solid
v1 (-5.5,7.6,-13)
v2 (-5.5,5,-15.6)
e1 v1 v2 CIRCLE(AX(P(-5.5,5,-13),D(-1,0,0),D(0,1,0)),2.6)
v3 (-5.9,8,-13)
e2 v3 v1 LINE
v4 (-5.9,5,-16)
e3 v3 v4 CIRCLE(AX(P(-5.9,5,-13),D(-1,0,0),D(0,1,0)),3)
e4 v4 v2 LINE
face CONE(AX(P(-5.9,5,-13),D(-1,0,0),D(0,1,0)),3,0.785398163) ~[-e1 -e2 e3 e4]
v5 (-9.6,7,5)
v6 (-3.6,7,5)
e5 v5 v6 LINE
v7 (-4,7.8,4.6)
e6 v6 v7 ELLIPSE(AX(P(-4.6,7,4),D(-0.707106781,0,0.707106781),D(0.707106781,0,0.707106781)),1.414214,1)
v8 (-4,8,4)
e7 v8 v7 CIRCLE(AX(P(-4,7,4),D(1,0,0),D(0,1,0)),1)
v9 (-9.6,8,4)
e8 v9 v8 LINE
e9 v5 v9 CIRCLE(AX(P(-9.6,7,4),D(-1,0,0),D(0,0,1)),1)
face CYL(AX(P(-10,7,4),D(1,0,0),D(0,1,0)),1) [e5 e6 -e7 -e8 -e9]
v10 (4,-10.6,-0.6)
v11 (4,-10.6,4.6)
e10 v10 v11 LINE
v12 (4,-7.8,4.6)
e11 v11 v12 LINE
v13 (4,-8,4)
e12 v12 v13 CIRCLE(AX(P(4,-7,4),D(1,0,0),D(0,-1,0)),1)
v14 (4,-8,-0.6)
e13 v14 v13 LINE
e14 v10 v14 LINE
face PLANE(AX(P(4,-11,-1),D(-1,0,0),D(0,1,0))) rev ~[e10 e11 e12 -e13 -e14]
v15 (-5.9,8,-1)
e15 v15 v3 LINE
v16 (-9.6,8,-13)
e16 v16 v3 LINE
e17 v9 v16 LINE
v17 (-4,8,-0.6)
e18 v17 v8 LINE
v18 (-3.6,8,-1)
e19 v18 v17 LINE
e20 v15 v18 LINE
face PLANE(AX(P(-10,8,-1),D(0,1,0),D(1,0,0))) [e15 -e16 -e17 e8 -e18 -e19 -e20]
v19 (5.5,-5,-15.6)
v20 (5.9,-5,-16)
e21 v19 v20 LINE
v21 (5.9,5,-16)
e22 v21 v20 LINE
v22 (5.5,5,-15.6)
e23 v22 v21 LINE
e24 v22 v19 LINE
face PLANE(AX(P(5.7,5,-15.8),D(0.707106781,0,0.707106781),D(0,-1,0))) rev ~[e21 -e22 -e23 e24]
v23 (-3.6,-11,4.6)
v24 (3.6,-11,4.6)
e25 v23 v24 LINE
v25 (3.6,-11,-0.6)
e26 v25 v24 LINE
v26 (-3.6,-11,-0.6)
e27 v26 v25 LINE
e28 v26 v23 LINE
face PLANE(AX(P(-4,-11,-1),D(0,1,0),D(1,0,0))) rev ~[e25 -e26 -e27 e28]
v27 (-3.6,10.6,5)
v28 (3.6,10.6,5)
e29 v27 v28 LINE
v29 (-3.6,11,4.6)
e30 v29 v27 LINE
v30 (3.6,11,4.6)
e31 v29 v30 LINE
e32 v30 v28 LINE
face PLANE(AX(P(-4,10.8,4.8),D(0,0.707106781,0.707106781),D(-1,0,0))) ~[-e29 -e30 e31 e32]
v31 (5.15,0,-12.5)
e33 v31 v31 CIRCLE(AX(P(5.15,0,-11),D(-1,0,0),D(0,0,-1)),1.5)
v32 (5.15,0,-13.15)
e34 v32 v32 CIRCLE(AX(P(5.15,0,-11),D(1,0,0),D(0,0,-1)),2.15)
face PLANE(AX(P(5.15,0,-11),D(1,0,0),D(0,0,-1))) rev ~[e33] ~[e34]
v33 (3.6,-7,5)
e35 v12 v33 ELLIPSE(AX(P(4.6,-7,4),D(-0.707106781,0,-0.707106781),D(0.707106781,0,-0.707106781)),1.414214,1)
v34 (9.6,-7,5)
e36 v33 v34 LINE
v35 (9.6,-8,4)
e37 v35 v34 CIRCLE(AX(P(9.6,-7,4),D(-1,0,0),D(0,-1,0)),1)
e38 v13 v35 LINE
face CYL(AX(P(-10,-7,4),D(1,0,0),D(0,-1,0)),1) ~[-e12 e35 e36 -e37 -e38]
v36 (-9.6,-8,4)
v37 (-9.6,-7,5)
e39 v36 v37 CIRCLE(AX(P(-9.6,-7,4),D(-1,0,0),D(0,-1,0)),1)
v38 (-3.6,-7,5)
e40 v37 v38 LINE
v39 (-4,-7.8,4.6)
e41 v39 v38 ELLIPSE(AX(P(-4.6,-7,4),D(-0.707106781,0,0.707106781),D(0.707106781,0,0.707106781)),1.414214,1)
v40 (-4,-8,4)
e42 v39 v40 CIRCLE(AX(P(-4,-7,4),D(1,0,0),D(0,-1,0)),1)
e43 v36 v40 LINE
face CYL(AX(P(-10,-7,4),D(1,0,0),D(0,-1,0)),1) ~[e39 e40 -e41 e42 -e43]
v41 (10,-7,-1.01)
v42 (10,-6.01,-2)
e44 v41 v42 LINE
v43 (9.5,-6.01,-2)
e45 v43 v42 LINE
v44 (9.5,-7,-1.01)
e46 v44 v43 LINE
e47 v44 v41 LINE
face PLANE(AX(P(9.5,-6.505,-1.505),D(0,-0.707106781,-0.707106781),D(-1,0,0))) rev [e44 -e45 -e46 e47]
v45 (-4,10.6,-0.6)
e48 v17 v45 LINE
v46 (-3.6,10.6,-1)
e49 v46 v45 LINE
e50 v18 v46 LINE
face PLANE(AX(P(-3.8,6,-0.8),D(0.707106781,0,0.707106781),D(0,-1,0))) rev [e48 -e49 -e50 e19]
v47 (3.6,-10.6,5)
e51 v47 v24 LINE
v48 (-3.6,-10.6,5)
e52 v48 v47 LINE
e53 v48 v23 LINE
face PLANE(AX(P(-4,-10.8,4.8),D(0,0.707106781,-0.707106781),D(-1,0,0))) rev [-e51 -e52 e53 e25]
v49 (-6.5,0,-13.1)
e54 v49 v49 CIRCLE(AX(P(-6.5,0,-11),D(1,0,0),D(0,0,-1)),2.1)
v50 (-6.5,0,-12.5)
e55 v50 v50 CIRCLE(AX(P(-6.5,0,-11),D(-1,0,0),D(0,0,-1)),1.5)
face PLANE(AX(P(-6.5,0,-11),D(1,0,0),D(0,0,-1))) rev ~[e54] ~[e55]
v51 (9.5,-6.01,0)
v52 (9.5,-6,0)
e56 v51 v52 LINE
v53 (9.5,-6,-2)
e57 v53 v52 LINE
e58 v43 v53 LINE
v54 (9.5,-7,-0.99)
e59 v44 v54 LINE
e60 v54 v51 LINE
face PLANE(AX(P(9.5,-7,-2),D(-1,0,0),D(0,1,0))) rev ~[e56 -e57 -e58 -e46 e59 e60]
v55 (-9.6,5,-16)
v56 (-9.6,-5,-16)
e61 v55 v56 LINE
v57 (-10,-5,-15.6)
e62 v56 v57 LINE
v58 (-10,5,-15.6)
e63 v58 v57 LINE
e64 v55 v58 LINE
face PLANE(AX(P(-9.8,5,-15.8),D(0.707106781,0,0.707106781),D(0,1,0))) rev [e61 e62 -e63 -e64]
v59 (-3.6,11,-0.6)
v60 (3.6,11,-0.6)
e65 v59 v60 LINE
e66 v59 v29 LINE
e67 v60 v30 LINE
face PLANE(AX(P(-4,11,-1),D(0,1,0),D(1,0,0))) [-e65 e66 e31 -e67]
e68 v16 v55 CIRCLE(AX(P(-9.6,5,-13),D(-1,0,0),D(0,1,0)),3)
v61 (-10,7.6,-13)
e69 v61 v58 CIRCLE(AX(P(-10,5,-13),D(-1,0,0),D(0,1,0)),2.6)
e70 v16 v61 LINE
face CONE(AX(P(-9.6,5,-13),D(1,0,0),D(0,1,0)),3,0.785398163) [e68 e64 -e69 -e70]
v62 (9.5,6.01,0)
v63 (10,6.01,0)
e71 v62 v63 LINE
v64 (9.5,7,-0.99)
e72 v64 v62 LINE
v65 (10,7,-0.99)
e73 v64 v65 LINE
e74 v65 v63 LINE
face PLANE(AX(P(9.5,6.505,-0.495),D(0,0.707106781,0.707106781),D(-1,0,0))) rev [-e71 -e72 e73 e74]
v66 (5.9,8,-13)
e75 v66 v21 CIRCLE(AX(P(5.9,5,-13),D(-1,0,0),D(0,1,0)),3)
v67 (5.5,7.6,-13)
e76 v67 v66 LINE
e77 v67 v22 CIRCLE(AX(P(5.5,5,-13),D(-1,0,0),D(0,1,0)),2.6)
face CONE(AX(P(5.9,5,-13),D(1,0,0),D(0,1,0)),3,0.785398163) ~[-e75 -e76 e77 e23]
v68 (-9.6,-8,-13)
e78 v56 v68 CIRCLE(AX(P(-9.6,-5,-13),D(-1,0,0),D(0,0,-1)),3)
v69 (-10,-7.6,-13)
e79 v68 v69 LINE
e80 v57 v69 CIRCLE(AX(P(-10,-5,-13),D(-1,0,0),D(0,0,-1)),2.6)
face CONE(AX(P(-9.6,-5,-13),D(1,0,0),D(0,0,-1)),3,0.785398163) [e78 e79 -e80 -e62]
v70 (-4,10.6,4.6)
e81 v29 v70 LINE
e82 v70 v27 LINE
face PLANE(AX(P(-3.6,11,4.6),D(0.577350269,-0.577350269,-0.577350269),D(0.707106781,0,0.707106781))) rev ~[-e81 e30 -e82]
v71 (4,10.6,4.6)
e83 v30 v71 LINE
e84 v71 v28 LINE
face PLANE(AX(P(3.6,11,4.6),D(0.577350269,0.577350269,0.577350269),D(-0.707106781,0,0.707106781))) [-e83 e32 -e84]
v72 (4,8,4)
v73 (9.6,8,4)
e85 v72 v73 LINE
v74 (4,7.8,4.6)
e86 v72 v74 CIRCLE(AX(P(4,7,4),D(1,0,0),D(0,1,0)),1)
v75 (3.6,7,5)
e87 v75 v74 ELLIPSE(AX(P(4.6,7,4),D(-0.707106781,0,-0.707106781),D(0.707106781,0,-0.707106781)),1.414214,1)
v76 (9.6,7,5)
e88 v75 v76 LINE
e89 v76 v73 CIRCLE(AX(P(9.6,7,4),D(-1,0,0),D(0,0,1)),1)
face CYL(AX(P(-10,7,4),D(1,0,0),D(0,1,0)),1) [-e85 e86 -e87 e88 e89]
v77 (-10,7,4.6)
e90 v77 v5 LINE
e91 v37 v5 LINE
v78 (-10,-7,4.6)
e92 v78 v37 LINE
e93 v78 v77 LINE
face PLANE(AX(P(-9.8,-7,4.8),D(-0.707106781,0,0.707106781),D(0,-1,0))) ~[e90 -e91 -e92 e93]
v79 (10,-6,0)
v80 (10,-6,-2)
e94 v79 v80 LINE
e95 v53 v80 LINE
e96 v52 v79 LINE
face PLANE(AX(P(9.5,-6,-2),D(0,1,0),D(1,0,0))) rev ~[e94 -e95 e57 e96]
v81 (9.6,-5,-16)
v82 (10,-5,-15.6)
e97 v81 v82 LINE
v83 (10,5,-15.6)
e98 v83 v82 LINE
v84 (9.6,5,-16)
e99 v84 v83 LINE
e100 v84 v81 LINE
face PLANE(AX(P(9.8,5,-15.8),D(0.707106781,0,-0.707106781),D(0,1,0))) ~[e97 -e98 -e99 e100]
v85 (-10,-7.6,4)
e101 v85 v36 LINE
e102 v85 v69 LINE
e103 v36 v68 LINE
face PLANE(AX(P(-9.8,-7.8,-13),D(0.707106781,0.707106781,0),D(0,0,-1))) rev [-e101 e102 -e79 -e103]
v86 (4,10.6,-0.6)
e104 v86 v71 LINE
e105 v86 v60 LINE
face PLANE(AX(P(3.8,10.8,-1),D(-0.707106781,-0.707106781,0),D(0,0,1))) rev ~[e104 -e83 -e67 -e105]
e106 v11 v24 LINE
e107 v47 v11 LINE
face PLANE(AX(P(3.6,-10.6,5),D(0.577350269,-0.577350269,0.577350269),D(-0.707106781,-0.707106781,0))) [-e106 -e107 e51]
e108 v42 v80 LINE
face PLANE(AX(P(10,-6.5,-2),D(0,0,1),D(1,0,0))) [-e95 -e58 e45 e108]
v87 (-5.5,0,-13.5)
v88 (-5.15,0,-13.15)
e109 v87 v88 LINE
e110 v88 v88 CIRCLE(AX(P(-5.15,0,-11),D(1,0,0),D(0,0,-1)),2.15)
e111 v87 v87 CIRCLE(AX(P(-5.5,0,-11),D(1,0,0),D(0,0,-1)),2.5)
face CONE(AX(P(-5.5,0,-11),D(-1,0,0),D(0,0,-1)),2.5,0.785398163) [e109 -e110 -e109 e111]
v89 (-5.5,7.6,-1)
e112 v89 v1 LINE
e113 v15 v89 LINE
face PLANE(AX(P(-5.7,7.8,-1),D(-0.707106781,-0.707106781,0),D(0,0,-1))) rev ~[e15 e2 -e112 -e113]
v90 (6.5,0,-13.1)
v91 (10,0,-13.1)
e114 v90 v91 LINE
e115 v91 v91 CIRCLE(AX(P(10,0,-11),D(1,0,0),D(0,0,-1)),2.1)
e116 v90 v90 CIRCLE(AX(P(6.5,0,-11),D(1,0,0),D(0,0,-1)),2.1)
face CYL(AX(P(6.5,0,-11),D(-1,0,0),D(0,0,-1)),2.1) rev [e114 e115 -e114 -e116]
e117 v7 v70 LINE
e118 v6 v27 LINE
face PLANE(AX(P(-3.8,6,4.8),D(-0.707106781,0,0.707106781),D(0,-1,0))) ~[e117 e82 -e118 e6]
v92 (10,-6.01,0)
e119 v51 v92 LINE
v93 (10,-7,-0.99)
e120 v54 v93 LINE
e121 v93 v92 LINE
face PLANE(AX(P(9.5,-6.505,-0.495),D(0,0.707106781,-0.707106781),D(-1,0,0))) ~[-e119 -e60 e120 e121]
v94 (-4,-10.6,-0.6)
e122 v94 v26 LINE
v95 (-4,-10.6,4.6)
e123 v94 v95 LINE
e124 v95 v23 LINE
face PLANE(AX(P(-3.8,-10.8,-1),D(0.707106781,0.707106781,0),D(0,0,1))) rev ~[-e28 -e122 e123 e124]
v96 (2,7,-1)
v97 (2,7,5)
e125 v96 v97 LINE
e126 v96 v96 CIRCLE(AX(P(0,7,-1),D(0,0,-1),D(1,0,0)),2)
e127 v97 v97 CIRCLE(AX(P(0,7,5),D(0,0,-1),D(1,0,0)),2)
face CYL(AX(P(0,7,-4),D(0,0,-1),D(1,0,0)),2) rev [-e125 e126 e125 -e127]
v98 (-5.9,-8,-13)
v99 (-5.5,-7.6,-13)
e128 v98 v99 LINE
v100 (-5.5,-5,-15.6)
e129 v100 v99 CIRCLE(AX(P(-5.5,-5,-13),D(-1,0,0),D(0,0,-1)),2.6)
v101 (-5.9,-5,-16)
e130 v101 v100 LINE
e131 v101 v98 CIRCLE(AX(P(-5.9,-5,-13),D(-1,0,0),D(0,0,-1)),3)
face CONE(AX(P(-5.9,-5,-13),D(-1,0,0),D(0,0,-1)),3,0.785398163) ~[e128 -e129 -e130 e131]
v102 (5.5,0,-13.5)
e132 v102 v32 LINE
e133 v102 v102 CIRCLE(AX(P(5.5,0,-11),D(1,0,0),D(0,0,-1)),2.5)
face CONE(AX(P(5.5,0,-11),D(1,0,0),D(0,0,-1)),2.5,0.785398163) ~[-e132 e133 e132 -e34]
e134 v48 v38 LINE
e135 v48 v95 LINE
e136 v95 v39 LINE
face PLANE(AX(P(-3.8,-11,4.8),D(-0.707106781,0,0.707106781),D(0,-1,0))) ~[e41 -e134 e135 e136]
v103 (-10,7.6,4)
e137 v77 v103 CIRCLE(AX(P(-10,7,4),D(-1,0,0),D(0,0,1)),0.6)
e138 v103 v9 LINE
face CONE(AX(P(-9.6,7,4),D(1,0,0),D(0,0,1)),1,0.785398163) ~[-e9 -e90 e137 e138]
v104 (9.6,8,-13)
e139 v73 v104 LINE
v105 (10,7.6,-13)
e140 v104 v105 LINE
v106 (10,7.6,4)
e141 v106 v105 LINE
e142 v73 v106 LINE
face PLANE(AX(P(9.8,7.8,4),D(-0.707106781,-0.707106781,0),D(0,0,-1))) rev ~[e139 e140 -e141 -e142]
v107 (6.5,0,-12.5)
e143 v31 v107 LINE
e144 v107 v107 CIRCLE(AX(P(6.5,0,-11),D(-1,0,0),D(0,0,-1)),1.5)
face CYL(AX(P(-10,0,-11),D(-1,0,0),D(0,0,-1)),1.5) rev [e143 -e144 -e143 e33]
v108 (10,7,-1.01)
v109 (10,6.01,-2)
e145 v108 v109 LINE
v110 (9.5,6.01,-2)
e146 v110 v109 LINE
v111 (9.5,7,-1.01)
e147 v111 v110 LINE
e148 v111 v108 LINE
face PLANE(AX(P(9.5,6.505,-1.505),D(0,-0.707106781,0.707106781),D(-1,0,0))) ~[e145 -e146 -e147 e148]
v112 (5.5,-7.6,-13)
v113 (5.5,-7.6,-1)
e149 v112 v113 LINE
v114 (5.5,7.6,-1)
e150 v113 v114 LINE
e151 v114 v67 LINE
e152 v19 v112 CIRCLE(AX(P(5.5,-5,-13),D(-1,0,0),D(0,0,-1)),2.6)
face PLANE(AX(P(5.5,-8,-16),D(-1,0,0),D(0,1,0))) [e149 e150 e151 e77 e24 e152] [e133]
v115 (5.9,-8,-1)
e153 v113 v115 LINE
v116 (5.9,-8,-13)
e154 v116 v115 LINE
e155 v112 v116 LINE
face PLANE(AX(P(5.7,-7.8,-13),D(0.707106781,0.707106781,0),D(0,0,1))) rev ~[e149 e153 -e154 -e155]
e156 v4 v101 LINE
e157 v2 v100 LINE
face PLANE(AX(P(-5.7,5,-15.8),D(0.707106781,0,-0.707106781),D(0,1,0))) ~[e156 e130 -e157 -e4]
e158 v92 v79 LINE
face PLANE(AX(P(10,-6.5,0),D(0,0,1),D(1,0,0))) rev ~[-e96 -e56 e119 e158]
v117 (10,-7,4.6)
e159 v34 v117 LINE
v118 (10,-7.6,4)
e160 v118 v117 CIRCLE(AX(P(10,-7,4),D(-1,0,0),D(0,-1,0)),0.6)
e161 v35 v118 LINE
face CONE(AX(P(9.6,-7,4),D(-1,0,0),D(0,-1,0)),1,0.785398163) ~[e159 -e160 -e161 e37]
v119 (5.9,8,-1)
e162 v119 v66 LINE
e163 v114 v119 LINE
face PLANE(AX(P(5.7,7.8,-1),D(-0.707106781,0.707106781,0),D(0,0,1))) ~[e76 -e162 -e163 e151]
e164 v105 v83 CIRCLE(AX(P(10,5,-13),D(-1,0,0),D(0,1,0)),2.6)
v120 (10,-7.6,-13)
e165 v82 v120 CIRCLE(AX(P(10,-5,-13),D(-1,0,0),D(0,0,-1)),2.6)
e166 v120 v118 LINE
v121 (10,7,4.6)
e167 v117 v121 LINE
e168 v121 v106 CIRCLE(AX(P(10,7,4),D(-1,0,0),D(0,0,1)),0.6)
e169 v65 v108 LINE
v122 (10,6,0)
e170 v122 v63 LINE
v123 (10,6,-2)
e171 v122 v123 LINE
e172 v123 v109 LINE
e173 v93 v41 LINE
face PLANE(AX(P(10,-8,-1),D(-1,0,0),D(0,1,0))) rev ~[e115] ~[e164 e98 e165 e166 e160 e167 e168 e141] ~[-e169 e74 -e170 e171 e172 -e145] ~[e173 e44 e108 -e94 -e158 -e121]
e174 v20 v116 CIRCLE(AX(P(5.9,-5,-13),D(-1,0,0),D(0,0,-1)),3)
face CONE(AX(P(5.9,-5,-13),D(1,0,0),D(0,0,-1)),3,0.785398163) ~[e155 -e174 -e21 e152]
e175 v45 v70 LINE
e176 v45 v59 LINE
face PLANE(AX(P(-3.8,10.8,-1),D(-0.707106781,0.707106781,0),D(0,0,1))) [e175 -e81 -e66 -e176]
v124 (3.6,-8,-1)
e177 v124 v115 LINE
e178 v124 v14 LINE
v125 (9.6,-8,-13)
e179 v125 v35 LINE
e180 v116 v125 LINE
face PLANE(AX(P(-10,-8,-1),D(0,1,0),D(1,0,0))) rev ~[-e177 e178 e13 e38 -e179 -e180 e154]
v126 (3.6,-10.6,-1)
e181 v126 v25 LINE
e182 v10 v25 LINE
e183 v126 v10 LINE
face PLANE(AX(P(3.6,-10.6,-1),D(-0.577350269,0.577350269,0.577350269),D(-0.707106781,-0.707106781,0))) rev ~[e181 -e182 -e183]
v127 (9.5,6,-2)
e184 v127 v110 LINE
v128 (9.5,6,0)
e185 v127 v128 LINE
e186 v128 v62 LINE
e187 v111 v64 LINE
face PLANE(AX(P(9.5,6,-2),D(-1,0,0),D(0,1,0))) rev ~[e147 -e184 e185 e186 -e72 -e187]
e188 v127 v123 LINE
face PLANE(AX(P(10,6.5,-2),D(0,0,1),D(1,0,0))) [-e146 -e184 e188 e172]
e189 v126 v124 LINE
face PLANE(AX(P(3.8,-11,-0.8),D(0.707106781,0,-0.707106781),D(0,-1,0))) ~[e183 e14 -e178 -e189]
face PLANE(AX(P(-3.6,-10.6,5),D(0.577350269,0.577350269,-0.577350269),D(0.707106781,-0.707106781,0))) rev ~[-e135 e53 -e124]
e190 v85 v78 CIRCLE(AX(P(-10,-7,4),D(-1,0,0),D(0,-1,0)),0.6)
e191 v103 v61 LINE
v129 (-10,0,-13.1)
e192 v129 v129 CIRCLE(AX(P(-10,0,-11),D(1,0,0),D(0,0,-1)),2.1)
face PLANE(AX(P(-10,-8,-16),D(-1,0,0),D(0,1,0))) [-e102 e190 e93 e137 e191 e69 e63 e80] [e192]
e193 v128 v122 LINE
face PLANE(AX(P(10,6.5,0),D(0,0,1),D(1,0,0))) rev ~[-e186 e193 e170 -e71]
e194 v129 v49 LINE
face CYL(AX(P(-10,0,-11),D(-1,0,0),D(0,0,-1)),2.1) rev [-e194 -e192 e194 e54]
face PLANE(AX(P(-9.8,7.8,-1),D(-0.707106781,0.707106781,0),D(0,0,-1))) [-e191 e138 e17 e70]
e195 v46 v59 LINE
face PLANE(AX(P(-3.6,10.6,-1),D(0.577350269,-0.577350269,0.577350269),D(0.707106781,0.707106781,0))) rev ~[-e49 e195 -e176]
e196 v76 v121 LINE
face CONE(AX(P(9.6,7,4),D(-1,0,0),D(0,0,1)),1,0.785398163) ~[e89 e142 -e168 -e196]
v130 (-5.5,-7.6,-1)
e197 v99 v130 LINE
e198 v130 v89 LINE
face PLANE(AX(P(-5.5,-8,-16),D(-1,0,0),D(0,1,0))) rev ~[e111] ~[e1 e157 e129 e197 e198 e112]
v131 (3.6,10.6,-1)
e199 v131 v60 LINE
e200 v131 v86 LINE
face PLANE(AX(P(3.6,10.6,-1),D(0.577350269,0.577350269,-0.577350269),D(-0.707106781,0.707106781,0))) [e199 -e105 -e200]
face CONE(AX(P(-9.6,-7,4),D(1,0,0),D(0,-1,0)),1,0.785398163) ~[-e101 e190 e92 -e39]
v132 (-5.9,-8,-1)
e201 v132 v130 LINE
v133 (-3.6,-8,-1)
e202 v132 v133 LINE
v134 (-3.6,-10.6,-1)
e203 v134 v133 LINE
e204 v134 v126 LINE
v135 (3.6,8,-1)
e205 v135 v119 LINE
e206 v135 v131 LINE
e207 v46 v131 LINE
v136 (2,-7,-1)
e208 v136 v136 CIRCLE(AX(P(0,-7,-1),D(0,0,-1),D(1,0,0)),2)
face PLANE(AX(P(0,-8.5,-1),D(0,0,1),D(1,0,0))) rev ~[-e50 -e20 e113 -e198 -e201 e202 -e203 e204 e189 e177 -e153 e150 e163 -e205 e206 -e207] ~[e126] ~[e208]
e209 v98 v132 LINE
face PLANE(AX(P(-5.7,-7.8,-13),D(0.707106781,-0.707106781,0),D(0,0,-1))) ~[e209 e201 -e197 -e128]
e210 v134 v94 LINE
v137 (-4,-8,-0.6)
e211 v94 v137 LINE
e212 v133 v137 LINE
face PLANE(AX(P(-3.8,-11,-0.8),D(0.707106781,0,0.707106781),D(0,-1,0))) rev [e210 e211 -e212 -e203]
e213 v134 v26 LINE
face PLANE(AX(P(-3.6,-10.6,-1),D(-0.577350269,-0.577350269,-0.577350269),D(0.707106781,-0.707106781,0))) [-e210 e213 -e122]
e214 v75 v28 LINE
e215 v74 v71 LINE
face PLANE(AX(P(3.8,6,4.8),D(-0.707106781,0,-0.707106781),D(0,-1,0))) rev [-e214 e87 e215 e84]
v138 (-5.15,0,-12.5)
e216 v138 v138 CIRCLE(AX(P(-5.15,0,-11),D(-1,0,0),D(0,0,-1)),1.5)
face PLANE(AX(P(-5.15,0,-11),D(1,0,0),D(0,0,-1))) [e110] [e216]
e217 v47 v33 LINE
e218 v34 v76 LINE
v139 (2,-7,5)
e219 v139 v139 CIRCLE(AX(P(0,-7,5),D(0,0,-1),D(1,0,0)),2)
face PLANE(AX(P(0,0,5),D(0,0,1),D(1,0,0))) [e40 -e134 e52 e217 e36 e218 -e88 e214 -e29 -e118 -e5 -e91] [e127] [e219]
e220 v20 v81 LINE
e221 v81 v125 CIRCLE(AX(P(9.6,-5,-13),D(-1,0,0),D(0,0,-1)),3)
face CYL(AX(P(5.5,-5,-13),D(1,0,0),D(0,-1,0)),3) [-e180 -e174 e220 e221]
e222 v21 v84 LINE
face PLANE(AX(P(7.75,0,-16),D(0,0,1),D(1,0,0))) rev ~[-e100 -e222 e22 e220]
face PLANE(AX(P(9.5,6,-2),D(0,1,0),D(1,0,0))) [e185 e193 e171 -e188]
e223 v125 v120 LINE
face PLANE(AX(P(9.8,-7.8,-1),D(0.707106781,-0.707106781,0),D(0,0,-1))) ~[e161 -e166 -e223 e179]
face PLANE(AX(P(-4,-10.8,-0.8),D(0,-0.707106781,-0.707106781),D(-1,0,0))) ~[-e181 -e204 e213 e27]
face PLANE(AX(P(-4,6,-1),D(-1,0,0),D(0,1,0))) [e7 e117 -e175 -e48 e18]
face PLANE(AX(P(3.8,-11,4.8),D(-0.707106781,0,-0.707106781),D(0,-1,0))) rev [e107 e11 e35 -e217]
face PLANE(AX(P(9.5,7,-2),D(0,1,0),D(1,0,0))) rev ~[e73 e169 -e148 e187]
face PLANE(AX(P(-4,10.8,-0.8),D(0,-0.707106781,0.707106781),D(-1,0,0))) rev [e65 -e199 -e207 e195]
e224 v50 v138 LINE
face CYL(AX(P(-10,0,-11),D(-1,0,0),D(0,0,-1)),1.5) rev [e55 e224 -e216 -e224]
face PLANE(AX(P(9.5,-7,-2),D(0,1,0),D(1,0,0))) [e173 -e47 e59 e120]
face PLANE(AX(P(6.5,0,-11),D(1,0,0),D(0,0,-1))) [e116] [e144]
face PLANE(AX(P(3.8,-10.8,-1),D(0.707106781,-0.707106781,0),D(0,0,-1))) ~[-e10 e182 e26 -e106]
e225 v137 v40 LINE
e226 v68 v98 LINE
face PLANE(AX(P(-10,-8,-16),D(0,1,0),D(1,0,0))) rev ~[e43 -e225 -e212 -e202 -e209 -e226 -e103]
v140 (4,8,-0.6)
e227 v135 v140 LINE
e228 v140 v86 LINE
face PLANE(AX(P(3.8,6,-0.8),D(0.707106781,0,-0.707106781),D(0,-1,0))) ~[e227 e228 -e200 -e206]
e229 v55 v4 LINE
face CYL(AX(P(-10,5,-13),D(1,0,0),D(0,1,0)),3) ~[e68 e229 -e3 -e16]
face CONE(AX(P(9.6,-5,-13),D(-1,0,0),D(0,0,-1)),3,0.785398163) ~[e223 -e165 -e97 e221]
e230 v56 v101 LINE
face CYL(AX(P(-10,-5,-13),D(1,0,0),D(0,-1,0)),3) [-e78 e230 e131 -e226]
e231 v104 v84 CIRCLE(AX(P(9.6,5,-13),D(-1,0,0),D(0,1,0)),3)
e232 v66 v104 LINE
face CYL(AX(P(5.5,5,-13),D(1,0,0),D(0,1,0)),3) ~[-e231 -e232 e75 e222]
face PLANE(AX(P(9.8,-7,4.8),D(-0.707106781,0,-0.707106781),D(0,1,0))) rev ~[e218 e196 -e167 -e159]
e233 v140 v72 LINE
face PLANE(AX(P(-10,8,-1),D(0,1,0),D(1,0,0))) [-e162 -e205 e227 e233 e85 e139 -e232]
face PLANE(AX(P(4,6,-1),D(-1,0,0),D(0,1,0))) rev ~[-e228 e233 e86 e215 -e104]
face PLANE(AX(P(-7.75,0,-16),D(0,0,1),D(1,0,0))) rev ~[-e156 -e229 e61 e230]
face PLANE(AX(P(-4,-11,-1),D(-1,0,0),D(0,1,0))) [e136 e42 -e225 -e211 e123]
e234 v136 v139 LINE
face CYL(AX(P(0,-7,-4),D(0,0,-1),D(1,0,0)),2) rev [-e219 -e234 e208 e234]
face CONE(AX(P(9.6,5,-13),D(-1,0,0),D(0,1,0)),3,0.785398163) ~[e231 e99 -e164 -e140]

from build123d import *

# Parameters (mm, degrees)
BOX012001004_W     = 1
BOX012001004_H     = 1
BOX012001004_DEPTH = 2
CHAMFER025_SIZE    = 0.99
BOX012001003_W     = 1
BOX012001003_H     = 1
BOX012001003_DEPTH = 2
CHAMFER024_SIZE    = 0.99
CYLINDER014_R      = 2.1
CYLINDER014_DEPTH  = 3.5
CYLINDER015_R      = 2.1
CYLINDER015_DEPTH  = 3.5
CYLINDER004_R      = 1.5
CYLINDER004_DEPTH  = 20
CYLINDER019_R      = 2
CYLINDER019_DEPTH  = 20
CYLINDER018_R      = 2
CYLINDER018_DEPTH  = 20
BOX008_W           = 8
BOX008_H           = 5
BOX008_DEPTH       = 6
CHAMFER015_SIZE    = 0.4
BOX007_W           = 8
BOX007_H           = 5
BOX007_DEPTH       = 6
CHAMFER016_SIZE    = 0.4
BOX002_W           = 20
BOX002_H           = 16
BOX002_DEPTH       = 6
FILLET002_R        = 1
CHAMFER019_SIZE    = 0.4
BOX001_W           = 4.5
BOX001_H           = 16
BOX001_DEPTH       = 15
FILLET001_R        = 3
CHAMFER011_SIZE    = 0.4
CHAMFER018_SIZE    = 0.4
BOX_W              = 4.5
BOX_H              = 16
BOX_DEPTH          = 15
FILLET_R           = 3
CHAMFER010_SIZE    = 0.4
CHAMFER017_SIZE    = 0.4
CYLINDER005_R      = 2.5
CYLINDER005_DEPTH  = 1
CHAMFER001_SIZE    = 0.35
CYLINDER006_R      = 2.5
CYLINDER006_DEPTH  = 1
CHAMFER_SIZE       = 0.35


with BuildPart() as chamfer025:
    # Box012001004 → Box012001004 (new body)
    with BuildSketch(Plane(origin=(9.5, 6, -2), x_dir=(1, 0, 0), z_dir=(0, 0, 1))):
        with Locations((0.5, 0.5)):
            Rectangle(BOX012001004_W, BOX012001004_H)
    extrude(amount=BOX012001004_DEPTH)

    # Chamfer025
    chamfer025_edges = [chamfer025.edges().sort_by_distance(p)[0] for p in [
        (10, 7, -2),
        (10, 7, 0),
    ]]
    chamfer(chamfer025_edges, length=CHAMFER025_SIZE)


with BuildPart() as fusion020006007018006:
    # Box012001003 → Box012001003 (new body)
    with BuildSketch(Plane(origin=(9.5, -7, -2), x_dir=(1, 0, 0), z_dir=(0, 0, 1))):
        with Locations((0.5, 0.5)):
            Rectangle(BOX012001003_W, BOX012001003_H)
    extrude(amount=BOX012001003_DEPTH)

    # Chamfer024
    chamfer024_edges = [fusion020006007018006.edges().sort_by_distance(p)[0] for p in [
        (10, -7, -2),
        (10, -7, 0),
    ]]
    chamfer(chamfer024_edges, length=CHAMFER024_SIZE)

    # Fusion020006007018006: union Chamfer025
    add(chamfer025.part)


with BuildPart() as cylinder014:
    # Cylinder014 → Cylinder014 (new body)
    with BuildSketch(Plane(origin=(-10, 0, 5), x_dir=(0, 0, -1), z_dir=(1, 0, 0))):
        Circle(CYLINDER014_R)
    extrude(amount=CYLINDER014_DEPTH)


with BuildPart() as fusion020006007006:
    # Cylinder015 → Cylinder015 (new body)
    with BuildSketch(Plane(origin=(6.5, 0, 5), x_dir=(0, 0, -1), z_dir=(1, 0, 0))):
        Circle(CYLINDER015_R)
    extrude(amount=CYLINDER015_DEPTH)

    # Fusion020006007006: union Cylinder014
    add(cylinder014.part)


with BuildPart() as cylinder004:
    # Cylinder004 → Cylinder004 (new body)
    with BuildSketch(Plane(origin=(-10, 0, 5), x_dir=(0, 0, -1), z_dir=(1, 0, 0))):
        Circle(CYLINDER004_R)
    extrude(amount=CYLINDER004_DEPTH)


with BuildPart() as cylinder019:
    # Cylinder019 → Cylinder019 (new body)
    with BuildSketch(Plane(origin=(0, 7, 12), x_dir=(1, 0, 0), z_dir=(0, 0, 1))):
        Circle(CYLINDER019_R)
    extrude(amount=CYLINDER019_DEPTH)


with BuildPart() as fusion020006007013:
    # Cylinder018 → Cylinder018 (new body)
    with BuildSketch(Plane(origin=(0, -7, 12), x_dir=(1, 0, 0), z_dir=(0, 0, 1))):
        Circle(CYLINDER018_R)
    extrude(amount=CYLINDER018_DEPTH)

    # Fusion020006007013: union Cylinder019
    add(cylinder019.part)


with BuildPart() as chamfer015:
    # Box008 → Box008 (new body)
    with BuildSketch(Plane(origin=(-4, -10, 15), x_dir=(1, 0, 0), z_dir=(0, 0, 1))):
        with Locations((4, 2.5)):
            Rectangle(BOX008_W, BOX008_H)
    extrude(amount=BOX008_DEPTH)

    # Chamfer015
    chamfer015_edges = [chamfer015.edges().sort_by_distance(p)[0] for p in [
        (-4, -10, 18),
        (-4, -7.5, 21),
        (-4, -5, 18),
        (-4, -7.5, 15),
        (4, -10, 18),
        (4, -7.5, 21),
        (4, -5, 18),
        (4, -7.5, 15),
        (0, -10, 15),
        (0, -10, 21),
        (0, -5, 15),
        (0, -5, 21),
    ]]
    chamfer(chamfer015_edges, length=CHAMFER015_SIZE)


with BuildPart() as chamfer015_1:
    # Chamfer015 placement: moved
    add(chamfer015.part.moved(Location((0, -1, 0))))


with BuildPart() as chamfer016:
    # Box007 → Box007 (new body)
    with BuildSketch(Plane(origin=(-4, 5, 15), x_dir=(1, 0, 0), z_dir=(0, 0, 1))):
        with Locations((4, 2.5)):
            Rectangle(BOX007_W, BOX007_H)
    extrude(amount=BOX007_DEPTH)

    # Chamfer016
    chamfer016_edges = [chamfer016.edges().sort_by_distance(p)[0] for p in [
        (-4, 5, 18),
        (-4, 7.5, 21),
        (-4, 10, 18),
        (-4, 7.5, 15),
        (4, 5, 18),
        (4, 7.5, 21),
        (4, 10, 18),
        (4, 7.5, 15),
        (0, 5, 21),
        (0, 10, 15),
        (0, 10, 21),
    ]]
    chamfer(chamfer016_edges, length=CHAMFER016_SIZE)


with BuildPart() as chamfer016_1:
    # Chamfer016 placement: moved
    add(chamfer016.part.moved(Location((0, 1, 0))))


with BuildPart() as fusion020006007012:
    # Box002 → Box002 (new body)
    with BuildSketch(Plane(origin=(-10, -8, 15), x_dir=(1, 0, 0), z_dir=(0, 0, 1))):
        with Locations((10, 8)):
            Rectangle(BOX002_W, BOX002_H)
    extrude(amount=BOX002_DEPTH)

    # Fillet002
    fillet002_edges = [fusion020006007012.edges().sort_by_distance(p)[0] for p in [
        (0, -8, 21),
        (0, 8, 21),
    ]]
    fillet(fillet002_edges, radius=FILLET002_R)

    # Chamfer019
    chamfer019_edges = [fusion020006007012.edges().sort_by_distance(p)[0] for p in [
        (-10, -8, 17.5),
        (-10, -7.707107, 20.707107),
        (-10, 0, 21),
        (-10, 8, 17.5),
        (-10, 7.707107, 20.707107),
        (10, -8, 17.5),
        (10, -7.707107, 20.707107),
        (10, 0, 21),
        (10, 8, 17.5),
        (10, 7.707107, 20.707107),
    ]]
    chamfer(chamfer019_edges, length=CHAMFER019_SIZE)

    # Fusion020006007012: union Chamfer015, Chamfer016
    add(chamfer015_1.part)
    add(chamfer016_1.part)


with BuildPart() as chamfer018:
    # Box001 → Box001 (new body)
    with BuildSketch(Plane(origin=(-10, -8, 0), x_dir=(1, 0, 0), z_dir=(0, 0, 1))):
        with Locations((2.25, 8)):
            Rectangle(BOX001_W, BOX001_H)
    extrude(amount=BOX001_DEPTH)

    # Fillet001
    fillet001_edges = [chamfer018.edges().sort_by_distance(p)[0] for p in [
        (-7.75, -8, 0),
        (-7.75, 8, 0),
    ]]
    fillet(fillet001_edges, radius=FILLET001_R)

    # Chamfer011
    chamfer011_edges = [chamfer018.edges().sort_by_distance(p)[0] for p in [
        (-5.5, -8, 9),
        (-5.5, -7.12132, 0.87868),
        (-5.5, 0, 0),
        (-5.5, 8, 9),
        (-5.5, 7.12132, 0.87868),
    ]]
    chamfer(chamfer011_edges, length=CHAMFER011_SIZE)

    # Chamfer018
    chamfer018_edges = [chamfer018.edges().sort_by_distance(p)[0] for p in [
        (-10, -8, 9),
        (-10, -7.12132, 0.87868),
        (-10, 0, 0),
        (-10, 8, 9),
        (-10, 7.12132, 0.87868),
    ]]
    chamfer(chamfer018_edges, length=CHAMFER018_SIZE)


with BuildPart() as cut009006:
    # Box → Box (new body)
    with BuildSketch(Plane(origin=(5.5, -8, 0), x_dir=(1, 0, 0), z_dir=(0, 0, 1))):
        with Locations((2.25, 8)):
            Rectangle(BOX_W, BOX_H)
    extrude(amount=BOX_DEPTH)

    # Fillet
    fillet_edges = [cut009006.edges().sort_by_distance(p)[0] for p in [
        (7.75, -8, 0),
        (7.75, 8, 0),
    ]]
    fillet(fillet_edges, radius=FILLET_R)

    # Chamfer010
    chamfer010_edges = [cut009006.edges().sort_by_distance(p)[0] for p in [
        (5.5, -8, 9),
        (5.5, -7.12132, 0.87868),
        (5.5, 0, 0),
        (5.5, 8, 9),
        (5.5, 7.12132, 0.87868),
    ]]
    chamfer(chamfer010_edges, length=CHAMFER010_SIZE)

    # Chamfer017
    chamfer017_edges = [cut009006.edges().sort_by_distance(p)[0] for p in [
        (10, -8, 9),
        (10, 8, 9),
        (10, -7.12132, 0.87868),
        (10, 0, 0),
        (10, 7.12132, 0.87868),
    ]]
    chamfer(chamfer017_edges, length=CHAMFER017_SIZE)

    # Fusion020006007014: union Fusion020006007012, Chamfer018
    add(fusion020006007012.part)
    add(chamfer018.part)

    # Cut009006: cut Fusion020006007013
    add(fusion020006007013.part, mode=Mode.SUBTRACT)


with BuildPart() as chamfer001:
    # Cylinder005 → Cylinder005 (new body)
    with BuildSketch(Plane(origin=(5.15, 0, 5), x_dir=(0, 0, -1), z_dir=(1, 0, 0))):
        Circle(CYLINDER005_R)
    extrude(amount=CYLINDER005_DEPTH)

    # Chamfer001
    chamfer001_edges = [chamfer001.edges().sort_by_distance(p)[0] for p in [
        (5.15, 0, 7.5),
    ]]
    chamfer(chamfer001_edges, length=CHAMFER001_SIZE)


with BuildPart() as cut009010005:
    # Cylinder006 → Cylinder006 (new body)
    with BuildSketch(Plane(origin=(-6.15, 0, 5), x_dir=(0, 0, -1), z_dir=(1, 0, 0))):
        Circle(CYLINDER006_R)
    extrude(amount=CYLINDER006_DEPTH)

    # Chamfer
    chamfer_edges = [cut009010005.edges().sort_by_distance(p)[0] for p in [
        (-5.15, 0, 7.5),
    ]]
    chamfer(chamfer_edges, length=CHAMFER_SIZE)

    # Fusion041004003: union Chamfer001
    add(chamfer001.part)

    # Fusion020006007015: union Cut009006
    add(cut009006.part)

    # Cut009007: cut Cylinder004
    add(cylinder004.part, mode=Mode.SUBTRACT)

    # Cut009008: cut Fusion020006007006
    add(fusion020006007006.part, mode=Mode.SUBTRACT)


with BuildPart() as cut009010005_1:
    # Cut009008 placement: moved
    add(cut009010005.part.moved(Location((0, 0, -16))))

    # Cut009010005: cut Fusion020006007018006
    add(fusion020006007018006.part, mode=Mode.SUBTRACT)


solid = cut009010005_1.part
